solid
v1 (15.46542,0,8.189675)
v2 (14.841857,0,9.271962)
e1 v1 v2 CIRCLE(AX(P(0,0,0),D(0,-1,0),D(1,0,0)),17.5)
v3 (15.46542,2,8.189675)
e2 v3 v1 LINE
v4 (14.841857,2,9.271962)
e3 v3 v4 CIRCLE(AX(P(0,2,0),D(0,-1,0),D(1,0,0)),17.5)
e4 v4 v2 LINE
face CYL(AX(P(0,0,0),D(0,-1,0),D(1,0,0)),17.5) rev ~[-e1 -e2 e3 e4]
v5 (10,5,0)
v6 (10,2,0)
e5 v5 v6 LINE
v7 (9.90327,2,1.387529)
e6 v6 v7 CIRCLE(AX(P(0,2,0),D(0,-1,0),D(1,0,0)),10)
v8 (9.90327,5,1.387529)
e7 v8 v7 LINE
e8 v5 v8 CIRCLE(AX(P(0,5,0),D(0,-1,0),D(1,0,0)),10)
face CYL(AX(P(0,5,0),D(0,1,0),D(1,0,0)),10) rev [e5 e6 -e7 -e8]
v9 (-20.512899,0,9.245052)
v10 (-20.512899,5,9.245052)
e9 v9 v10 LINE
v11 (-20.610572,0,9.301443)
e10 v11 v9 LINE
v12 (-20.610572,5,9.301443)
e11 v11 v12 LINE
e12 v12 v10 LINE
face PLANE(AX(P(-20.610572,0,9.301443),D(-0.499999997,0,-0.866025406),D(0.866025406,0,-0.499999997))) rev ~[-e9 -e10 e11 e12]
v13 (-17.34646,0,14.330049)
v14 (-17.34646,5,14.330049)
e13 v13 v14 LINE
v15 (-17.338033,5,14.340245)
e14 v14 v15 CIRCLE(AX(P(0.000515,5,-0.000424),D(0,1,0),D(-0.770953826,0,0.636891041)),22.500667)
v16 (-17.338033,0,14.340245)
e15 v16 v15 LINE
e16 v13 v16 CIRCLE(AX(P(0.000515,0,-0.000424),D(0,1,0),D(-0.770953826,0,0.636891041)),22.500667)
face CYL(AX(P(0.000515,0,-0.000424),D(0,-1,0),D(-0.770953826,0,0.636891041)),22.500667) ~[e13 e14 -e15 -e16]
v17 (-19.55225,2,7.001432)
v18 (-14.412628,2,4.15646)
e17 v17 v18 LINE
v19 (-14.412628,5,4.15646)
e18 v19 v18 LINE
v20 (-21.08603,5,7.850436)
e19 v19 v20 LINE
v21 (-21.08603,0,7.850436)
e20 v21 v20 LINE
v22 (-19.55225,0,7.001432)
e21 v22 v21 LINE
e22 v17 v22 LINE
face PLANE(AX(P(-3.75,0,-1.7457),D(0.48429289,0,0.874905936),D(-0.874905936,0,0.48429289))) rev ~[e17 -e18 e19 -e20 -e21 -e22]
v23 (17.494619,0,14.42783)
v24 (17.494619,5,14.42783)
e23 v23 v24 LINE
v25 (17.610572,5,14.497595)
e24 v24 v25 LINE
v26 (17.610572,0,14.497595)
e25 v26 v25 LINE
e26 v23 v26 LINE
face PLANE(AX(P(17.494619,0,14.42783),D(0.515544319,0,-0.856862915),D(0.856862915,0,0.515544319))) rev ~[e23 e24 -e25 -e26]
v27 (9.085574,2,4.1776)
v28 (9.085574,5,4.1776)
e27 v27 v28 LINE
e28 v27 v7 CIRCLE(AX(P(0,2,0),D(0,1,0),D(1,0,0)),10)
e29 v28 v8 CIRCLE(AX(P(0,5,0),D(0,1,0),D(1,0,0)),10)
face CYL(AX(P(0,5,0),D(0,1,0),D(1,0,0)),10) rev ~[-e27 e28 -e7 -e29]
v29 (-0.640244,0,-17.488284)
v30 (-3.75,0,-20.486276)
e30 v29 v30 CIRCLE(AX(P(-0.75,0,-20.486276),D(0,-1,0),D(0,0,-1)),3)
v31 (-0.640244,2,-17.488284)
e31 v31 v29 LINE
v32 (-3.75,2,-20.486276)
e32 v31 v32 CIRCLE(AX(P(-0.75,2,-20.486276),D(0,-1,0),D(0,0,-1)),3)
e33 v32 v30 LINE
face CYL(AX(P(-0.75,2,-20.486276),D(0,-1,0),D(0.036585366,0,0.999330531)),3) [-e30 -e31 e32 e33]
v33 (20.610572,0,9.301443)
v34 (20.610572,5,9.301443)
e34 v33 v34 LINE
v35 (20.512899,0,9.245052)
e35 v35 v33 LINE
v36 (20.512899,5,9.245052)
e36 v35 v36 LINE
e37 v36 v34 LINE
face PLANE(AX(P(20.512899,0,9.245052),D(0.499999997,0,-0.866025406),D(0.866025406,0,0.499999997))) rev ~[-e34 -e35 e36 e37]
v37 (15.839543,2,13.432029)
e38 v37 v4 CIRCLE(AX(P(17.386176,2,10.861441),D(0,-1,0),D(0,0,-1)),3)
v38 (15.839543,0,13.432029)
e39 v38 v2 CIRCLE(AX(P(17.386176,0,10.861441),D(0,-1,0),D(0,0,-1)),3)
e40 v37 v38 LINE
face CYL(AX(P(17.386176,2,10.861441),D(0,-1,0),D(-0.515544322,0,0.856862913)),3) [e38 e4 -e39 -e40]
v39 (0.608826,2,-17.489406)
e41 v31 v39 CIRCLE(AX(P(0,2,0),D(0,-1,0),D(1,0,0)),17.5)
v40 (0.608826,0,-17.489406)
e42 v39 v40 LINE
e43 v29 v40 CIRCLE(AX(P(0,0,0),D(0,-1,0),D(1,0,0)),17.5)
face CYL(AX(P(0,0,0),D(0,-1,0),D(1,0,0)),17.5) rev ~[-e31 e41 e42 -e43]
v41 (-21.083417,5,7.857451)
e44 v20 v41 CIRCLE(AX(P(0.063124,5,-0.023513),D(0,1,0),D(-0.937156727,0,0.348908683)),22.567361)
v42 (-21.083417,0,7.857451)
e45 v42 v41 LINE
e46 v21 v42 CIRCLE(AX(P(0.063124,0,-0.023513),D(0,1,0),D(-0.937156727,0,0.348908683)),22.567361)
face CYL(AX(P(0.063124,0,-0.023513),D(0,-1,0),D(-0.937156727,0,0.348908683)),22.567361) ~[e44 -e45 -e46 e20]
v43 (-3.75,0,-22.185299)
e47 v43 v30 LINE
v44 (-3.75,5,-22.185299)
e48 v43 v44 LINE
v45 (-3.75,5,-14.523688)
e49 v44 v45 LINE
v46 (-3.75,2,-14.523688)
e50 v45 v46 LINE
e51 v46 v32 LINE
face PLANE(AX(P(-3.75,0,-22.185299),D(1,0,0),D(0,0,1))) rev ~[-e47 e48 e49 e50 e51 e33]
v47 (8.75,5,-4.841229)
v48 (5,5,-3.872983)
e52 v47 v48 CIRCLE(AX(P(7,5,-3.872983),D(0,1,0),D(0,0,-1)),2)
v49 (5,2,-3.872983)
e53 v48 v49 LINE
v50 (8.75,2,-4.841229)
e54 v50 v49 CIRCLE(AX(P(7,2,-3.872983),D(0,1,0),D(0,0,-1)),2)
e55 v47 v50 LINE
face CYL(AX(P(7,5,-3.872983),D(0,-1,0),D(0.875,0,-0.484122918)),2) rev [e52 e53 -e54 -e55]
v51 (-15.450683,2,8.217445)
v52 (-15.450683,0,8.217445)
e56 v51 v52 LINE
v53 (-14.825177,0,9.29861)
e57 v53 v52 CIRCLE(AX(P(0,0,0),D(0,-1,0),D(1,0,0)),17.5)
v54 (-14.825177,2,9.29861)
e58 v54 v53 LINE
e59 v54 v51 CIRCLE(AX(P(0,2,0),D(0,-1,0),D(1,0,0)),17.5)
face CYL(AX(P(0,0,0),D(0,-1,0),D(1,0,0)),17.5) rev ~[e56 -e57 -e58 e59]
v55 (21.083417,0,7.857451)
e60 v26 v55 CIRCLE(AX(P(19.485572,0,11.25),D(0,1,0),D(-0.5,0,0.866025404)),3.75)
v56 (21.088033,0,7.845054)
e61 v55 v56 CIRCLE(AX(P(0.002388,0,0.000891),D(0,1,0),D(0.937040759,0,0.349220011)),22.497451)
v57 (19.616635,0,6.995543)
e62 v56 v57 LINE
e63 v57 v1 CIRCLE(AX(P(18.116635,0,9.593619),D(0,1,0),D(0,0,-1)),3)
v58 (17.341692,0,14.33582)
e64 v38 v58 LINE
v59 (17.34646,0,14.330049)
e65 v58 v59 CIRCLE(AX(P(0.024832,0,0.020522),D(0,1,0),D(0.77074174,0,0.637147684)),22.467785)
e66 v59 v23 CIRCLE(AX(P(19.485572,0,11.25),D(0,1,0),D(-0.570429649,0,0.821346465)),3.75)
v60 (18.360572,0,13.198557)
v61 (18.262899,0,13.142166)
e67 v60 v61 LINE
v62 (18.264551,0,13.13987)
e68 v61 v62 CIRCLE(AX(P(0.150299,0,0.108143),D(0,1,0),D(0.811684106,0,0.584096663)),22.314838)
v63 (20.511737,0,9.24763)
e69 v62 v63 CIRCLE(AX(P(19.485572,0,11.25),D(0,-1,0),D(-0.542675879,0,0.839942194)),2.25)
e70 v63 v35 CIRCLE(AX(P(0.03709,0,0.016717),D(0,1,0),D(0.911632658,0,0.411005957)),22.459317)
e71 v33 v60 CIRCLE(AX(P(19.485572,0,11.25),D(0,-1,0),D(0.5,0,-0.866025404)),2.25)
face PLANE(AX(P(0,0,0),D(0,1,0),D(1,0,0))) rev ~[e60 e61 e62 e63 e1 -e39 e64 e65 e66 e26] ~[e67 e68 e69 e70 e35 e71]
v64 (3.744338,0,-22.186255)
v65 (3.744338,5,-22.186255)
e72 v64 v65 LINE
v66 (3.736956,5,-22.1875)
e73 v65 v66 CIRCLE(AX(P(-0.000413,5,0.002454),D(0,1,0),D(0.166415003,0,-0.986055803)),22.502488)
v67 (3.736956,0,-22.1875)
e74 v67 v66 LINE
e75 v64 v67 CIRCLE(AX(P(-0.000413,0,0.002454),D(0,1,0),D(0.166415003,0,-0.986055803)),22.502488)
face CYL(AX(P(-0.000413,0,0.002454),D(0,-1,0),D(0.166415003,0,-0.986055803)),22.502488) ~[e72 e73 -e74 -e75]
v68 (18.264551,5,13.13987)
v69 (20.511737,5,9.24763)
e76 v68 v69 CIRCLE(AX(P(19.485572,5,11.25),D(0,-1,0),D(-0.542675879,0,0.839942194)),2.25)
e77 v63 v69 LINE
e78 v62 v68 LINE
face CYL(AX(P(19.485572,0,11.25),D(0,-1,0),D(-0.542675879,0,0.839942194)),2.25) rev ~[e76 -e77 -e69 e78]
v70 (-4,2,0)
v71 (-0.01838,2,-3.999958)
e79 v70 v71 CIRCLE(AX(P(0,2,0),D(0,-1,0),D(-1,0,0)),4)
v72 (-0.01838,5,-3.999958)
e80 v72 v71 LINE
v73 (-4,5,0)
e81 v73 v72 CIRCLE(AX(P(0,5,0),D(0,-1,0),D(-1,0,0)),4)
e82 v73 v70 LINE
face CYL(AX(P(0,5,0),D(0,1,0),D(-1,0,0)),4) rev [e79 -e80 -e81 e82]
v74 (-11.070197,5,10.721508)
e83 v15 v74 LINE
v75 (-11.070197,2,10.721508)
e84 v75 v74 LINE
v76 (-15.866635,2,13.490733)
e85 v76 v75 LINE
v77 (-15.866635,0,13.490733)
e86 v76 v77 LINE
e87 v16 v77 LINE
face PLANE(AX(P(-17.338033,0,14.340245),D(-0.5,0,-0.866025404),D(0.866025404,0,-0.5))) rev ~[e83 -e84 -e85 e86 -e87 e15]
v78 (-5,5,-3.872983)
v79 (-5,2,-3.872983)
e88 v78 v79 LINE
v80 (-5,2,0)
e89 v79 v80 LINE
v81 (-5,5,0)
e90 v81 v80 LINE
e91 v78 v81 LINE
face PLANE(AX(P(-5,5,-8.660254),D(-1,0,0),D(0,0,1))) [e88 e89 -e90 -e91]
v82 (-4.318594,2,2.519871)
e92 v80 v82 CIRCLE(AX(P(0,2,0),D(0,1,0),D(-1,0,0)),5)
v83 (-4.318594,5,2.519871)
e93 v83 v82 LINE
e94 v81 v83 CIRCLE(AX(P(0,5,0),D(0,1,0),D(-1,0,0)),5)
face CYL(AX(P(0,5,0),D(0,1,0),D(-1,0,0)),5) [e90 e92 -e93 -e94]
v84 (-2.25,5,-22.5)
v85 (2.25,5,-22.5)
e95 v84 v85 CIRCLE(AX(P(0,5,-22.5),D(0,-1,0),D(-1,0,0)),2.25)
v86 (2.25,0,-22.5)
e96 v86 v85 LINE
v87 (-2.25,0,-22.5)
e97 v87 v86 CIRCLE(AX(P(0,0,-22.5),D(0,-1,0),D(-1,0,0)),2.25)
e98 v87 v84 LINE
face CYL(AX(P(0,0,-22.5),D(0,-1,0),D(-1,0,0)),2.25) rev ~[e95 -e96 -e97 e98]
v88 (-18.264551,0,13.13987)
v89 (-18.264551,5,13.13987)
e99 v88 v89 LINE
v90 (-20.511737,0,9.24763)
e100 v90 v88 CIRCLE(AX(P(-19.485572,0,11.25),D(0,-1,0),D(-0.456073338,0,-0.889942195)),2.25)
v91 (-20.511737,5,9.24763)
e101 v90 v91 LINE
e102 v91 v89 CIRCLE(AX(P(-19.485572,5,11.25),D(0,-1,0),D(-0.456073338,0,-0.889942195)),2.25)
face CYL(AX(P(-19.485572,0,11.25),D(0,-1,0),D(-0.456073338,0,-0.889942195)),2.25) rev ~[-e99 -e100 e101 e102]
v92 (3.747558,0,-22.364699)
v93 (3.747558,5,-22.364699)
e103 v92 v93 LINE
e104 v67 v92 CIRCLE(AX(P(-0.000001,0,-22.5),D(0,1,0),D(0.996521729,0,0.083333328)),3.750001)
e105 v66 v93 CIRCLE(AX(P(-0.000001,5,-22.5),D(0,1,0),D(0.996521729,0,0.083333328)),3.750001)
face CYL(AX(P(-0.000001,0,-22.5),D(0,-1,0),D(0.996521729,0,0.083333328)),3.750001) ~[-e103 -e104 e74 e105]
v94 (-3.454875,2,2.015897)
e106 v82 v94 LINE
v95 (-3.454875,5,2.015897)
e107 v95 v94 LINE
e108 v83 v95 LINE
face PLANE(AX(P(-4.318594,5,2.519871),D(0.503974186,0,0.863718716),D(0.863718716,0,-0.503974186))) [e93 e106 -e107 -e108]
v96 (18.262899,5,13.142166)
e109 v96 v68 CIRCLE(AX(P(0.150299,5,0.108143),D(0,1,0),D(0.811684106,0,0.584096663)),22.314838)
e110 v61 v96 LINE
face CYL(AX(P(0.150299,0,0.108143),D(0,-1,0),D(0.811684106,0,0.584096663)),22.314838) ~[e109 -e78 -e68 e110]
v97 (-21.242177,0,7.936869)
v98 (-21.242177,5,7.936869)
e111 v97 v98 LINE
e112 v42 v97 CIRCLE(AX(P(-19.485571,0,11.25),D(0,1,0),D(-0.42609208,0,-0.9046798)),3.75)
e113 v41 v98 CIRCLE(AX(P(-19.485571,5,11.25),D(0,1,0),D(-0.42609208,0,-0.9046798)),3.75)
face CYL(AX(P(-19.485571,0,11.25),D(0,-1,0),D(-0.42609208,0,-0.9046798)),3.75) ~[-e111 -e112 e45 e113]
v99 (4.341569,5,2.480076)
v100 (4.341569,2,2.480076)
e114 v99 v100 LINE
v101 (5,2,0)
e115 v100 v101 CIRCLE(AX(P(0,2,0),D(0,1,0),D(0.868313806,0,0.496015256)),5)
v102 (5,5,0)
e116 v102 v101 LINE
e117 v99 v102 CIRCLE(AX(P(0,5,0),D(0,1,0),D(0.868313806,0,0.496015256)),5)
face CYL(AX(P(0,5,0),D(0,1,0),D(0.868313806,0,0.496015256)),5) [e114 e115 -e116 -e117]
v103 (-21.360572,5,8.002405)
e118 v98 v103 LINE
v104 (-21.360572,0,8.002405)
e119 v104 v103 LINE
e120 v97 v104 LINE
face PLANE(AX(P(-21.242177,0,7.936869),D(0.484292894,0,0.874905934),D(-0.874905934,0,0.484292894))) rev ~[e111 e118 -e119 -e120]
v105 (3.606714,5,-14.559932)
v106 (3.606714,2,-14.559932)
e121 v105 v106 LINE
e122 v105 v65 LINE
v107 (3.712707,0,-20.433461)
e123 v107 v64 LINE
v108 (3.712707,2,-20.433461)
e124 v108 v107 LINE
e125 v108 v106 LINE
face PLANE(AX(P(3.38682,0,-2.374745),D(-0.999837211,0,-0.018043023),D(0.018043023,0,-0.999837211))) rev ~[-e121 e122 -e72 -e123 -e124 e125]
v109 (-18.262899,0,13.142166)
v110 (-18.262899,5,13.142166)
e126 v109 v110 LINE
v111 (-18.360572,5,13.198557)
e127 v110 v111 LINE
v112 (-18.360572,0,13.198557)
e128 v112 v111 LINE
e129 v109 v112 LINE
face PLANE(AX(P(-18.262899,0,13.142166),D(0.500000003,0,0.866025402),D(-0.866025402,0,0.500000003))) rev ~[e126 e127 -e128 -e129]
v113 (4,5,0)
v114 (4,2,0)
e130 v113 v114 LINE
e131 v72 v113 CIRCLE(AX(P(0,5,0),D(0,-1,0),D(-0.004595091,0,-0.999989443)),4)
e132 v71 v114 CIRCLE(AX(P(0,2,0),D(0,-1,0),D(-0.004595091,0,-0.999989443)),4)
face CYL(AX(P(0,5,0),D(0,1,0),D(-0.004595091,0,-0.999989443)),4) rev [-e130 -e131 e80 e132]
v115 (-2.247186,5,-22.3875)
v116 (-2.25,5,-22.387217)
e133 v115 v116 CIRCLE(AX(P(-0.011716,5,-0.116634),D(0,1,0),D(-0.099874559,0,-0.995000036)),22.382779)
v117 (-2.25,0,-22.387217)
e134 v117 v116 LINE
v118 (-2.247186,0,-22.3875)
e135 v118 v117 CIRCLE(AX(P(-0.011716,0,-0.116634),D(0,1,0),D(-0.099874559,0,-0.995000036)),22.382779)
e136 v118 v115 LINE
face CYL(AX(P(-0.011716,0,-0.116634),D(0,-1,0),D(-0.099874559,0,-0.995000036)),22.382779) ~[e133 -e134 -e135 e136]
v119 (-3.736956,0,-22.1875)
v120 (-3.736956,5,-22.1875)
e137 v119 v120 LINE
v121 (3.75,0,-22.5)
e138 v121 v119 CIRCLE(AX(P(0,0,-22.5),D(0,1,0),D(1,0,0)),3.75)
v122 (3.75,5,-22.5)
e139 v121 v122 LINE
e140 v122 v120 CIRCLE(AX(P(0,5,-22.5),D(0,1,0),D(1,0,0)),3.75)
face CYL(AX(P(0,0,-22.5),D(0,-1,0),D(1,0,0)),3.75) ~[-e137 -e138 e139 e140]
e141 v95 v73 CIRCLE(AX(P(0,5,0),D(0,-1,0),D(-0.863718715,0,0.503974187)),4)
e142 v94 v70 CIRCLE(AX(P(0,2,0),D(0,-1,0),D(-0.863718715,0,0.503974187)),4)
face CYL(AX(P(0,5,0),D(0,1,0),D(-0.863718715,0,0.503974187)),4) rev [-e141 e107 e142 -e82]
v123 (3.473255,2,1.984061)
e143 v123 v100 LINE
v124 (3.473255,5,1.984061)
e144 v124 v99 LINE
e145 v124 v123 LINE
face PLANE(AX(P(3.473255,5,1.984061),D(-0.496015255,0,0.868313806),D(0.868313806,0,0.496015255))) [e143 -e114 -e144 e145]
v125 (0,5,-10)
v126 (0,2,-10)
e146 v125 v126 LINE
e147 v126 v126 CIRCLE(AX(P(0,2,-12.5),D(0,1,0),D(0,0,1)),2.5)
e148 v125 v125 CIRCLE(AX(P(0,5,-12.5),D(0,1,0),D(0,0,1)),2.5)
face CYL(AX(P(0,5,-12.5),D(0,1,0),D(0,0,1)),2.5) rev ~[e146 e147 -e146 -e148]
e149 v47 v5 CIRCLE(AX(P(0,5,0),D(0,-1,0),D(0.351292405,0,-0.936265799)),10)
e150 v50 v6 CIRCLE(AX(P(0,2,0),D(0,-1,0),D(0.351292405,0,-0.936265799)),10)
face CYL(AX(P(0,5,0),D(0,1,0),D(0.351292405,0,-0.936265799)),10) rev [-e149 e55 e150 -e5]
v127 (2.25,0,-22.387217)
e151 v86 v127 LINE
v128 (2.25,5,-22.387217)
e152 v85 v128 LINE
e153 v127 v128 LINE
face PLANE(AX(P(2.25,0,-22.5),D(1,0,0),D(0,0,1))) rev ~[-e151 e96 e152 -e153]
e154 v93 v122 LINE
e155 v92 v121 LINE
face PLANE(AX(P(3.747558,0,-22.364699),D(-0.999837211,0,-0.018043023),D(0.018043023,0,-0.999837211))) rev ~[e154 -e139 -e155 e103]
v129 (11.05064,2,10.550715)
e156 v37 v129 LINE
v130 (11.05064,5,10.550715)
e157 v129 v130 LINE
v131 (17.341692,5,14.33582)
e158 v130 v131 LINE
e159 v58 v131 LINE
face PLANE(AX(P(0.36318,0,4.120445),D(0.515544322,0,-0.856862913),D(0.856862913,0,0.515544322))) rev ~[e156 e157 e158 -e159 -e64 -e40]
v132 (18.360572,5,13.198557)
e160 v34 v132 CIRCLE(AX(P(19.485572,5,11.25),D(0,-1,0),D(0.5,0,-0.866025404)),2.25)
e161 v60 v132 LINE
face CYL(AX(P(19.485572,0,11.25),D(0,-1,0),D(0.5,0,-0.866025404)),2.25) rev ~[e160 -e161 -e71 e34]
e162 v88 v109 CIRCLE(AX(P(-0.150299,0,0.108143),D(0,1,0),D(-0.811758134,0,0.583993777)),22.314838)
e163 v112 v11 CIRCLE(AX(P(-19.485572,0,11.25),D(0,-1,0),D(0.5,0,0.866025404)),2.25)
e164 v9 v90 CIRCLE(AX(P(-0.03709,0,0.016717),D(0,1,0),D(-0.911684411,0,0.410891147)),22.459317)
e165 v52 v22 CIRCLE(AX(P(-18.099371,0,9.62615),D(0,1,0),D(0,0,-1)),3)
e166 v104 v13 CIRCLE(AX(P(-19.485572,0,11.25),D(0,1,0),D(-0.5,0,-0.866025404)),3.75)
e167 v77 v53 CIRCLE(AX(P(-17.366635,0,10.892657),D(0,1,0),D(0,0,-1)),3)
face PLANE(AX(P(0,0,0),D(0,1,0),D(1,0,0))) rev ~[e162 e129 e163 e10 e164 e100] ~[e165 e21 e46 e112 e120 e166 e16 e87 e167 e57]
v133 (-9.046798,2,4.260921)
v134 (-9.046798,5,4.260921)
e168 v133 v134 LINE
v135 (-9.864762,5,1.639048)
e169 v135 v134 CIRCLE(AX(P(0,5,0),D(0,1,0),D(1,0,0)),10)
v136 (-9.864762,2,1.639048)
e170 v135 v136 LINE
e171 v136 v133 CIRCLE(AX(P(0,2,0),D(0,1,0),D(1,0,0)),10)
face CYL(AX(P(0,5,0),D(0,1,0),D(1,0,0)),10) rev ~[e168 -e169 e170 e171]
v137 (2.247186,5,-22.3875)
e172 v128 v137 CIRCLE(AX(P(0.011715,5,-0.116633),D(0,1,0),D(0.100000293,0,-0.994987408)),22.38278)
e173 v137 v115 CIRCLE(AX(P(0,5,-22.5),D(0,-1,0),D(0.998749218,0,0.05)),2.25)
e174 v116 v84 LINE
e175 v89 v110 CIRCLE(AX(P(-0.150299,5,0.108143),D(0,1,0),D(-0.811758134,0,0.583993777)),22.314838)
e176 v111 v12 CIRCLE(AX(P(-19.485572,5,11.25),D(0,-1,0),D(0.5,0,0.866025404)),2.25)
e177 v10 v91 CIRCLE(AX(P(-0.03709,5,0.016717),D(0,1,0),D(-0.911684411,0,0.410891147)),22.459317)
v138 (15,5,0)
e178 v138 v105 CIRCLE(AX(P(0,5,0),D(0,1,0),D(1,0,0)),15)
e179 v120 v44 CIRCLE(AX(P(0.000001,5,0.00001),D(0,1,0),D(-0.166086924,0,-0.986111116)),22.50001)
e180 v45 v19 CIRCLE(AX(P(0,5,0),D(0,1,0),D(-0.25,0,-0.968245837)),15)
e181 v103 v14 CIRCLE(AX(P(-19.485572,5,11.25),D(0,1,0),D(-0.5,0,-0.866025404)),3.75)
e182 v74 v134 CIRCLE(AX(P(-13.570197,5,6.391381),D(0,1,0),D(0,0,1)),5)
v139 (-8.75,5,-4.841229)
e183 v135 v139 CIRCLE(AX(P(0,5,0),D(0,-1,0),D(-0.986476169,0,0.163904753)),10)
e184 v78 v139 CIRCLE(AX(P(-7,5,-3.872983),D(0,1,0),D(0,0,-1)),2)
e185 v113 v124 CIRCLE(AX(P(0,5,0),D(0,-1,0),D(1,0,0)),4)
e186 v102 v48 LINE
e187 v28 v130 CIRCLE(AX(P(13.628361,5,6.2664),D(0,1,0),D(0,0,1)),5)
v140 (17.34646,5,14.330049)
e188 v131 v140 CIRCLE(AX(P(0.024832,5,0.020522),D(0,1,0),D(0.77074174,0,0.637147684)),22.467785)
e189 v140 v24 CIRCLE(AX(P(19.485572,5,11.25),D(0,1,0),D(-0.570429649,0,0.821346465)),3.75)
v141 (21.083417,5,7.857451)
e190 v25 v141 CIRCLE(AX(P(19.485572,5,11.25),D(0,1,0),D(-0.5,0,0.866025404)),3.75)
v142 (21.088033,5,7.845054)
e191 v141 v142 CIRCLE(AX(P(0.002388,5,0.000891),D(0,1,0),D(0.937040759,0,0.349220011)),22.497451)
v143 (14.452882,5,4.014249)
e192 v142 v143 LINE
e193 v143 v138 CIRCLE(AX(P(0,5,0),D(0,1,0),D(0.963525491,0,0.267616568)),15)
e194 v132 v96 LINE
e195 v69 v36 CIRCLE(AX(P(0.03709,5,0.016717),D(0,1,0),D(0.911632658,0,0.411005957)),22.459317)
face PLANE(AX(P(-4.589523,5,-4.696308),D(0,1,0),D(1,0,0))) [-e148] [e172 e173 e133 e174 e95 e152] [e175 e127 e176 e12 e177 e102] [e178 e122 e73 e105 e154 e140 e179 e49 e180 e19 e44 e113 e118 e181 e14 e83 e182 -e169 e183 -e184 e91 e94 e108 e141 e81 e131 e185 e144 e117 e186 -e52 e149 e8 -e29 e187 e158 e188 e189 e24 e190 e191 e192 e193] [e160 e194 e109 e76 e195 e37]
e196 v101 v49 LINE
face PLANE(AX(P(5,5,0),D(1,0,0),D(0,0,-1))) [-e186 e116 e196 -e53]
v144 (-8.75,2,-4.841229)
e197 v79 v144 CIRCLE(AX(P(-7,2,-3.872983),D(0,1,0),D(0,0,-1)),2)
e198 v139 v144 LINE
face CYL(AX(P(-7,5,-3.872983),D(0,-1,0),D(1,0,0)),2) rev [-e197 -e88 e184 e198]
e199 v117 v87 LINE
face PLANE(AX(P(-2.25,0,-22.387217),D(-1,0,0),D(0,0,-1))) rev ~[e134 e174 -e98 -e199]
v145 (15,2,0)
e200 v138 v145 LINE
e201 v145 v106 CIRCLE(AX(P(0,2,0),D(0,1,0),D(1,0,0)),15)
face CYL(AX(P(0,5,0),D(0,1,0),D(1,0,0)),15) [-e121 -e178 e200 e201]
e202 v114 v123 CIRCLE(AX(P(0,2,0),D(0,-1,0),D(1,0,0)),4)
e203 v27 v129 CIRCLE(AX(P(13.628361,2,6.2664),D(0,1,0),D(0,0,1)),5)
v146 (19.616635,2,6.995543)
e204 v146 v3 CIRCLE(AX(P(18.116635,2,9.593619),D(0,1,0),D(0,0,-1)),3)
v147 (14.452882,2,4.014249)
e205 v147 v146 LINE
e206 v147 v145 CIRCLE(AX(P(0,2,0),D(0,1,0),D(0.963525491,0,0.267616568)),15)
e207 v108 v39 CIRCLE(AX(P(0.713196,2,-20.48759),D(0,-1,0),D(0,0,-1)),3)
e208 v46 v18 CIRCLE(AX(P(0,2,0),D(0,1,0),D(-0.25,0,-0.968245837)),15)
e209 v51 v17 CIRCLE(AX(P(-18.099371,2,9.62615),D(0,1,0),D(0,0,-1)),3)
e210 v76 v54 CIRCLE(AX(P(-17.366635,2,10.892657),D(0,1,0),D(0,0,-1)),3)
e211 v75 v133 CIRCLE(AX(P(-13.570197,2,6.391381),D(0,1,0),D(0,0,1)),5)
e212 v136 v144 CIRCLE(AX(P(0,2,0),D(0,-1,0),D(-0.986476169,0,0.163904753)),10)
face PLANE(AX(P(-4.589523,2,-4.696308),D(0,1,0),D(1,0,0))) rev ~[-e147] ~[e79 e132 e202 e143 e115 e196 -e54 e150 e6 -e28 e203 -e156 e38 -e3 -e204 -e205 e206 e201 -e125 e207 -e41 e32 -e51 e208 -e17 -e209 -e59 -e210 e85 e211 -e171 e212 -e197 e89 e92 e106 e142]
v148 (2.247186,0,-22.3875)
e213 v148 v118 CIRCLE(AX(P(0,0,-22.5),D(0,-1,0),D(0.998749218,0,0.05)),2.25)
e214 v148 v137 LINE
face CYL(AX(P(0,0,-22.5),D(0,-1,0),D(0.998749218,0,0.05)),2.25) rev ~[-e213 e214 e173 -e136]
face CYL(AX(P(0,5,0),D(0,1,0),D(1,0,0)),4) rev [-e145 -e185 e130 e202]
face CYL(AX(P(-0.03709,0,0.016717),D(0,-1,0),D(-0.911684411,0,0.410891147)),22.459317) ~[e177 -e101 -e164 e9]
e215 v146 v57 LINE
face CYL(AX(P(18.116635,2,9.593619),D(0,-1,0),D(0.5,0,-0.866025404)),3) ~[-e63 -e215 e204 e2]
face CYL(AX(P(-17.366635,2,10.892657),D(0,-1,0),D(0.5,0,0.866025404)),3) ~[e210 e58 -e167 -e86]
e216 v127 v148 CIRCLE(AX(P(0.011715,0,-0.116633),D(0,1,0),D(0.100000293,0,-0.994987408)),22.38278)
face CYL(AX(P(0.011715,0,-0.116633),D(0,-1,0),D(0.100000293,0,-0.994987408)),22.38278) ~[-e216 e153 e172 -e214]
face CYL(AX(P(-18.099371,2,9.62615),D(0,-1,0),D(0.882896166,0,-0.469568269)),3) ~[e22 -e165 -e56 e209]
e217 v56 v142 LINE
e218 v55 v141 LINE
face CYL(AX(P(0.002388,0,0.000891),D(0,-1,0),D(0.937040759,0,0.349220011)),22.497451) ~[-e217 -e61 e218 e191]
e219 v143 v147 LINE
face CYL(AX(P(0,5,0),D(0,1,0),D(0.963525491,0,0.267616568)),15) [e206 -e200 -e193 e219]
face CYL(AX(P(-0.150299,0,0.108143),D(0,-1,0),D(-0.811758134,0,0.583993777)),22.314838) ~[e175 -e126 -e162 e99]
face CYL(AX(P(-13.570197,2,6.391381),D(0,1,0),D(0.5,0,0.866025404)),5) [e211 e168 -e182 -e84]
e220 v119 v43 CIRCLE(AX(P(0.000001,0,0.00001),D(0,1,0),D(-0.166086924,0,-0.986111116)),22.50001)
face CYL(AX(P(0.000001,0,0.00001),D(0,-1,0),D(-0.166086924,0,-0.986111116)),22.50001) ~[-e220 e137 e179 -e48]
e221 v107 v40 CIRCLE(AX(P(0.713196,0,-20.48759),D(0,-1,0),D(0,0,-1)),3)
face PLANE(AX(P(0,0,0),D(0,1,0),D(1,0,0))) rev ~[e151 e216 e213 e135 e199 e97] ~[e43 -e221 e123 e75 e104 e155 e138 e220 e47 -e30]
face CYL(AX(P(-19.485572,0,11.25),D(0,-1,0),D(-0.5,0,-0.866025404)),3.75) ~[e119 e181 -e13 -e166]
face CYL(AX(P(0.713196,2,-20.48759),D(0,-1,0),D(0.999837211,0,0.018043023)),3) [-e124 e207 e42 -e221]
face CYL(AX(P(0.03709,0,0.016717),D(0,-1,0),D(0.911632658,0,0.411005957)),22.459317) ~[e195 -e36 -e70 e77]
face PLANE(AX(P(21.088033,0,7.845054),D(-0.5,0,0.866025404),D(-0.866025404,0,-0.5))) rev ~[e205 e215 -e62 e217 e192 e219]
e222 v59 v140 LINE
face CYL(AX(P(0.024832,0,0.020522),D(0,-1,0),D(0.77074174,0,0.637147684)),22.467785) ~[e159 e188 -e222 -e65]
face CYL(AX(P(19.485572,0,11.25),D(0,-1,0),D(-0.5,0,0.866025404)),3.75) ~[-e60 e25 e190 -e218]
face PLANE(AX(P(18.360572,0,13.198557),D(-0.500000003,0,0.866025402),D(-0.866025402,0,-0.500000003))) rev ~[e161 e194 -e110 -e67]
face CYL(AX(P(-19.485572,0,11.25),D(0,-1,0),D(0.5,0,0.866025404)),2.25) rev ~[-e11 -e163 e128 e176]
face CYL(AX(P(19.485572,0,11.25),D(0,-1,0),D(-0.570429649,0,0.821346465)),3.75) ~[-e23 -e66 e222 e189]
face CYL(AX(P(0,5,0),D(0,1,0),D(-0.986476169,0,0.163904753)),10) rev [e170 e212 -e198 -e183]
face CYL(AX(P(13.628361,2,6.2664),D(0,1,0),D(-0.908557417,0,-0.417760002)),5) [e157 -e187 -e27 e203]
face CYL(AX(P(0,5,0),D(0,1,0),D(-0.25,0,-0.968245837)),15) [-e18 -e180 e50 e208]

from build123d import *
from build123d.topology import SkipClean

# Parameters (mm, degrees)
EXTRUDE_1_DEPTH     = 5
SKETCH_2_R          = 17.5
CUT_EXTRUDE_1_DEPTH = 2
FILLET_1_R          = 3
EXTRUDE_2_DEPTH     = 3
SKETCH_4_R          = 10
CUT_EXTRUDE_2_DEPTH = 3
FILLET_2_R          = 5
EXTRUDE_3_DEPTH     = 3
FILLET_3_R          = 2
SKETCH_6_R          = 2.5
CUT_EXTRUDE_3_DEPTH = 3


with BuildPart() as part:
    # 草图1 → 凸台-拉伸1 (new body)
    with BuildSketch(Plane(origin=(0, 0, 0), x_dir=(1, 0, 0), z_dir=(0, 1, 0))):
        with BuildLine():
            Line((-17.338032686, -14.340244858), (0.36317955, -4.120445208))
            Line((0.36317955, -4.120445208), (17.341691759, -14.335819716))
            ThreePointArc((17.341691759, -14.335819716), (17.344076322, -14.33293468), (17.346460405, -14.330049246))
            ThreePointArc((17.346460405, -14.330049246), (17.419960834, -14.379816644), (17.494618607, -14.42783043))
            Line((17.494618607, -14.42783043), (17.610571585, -14.497595264))
            ThreePointArc((17.610571585, -14.497595264), (22.80853464, -12.987934561), (21.083416888, -7.857450754))
            ThreePointArc((21.083416888, -7.857450754), (21.085725698, -7.851252881), (21.088032686, -7.845054329))
            Line((21.088032686, -7.845054329), (3.38682045, 2.374745321))
            Line((3.38682045, 2.374745321), (3.744338179, 22.186255466))
            ThreePointArc((3.744338179, 22.186255466), (3.740647382, 22.18687804), (3.736956482, 22.1875))
            ThreePointArc((3.736956482, 22.1875), (3.743306098, 22.276036937), (3.74755837, 22.364699358))
            Line((3.74755837, 22.364699358), (3.75, 22.5))
            ThreePointArc((3.75, 22.5), (-0.156386047, 26.246737702), (-3.736956482, 22.1875))
            ThreePointArc((-3.736956482, 22.1875), (-3.743478403, 22.186400552), (-3.75, 22.185299187))
            Line((-3.75, 22.185299187), (-3.75, 1.745699887))
            Line((-3.75, 1.745699887), (-21.086029938, -7.85043575))
            ThreePointArc((-21.086029938, -7.85043575), (-21.084723704, -7.85394336), (-21.083416888, -7.857450754))
            ThreePointArc((-21.083416888, -7.857450754), (-21.163266932, -7.896220293), (-21.242176977, -7.936868928))
            Line((-21.242176977, -7.936868928), (-21.360571585, -8.002404736))
            ThreePointArc((-21.360571585, -8.002404736), (-22.652148592, -13.258803141), (-17.346460405, -14.330049246))
            ThreePointArc((-17.346460405, -14.330049246), (-17.342247295, -14.335147671), (-17.338032686, -14.340244858))
        make_face()
        with BuildLine():
            ThreePointArc((-18.264550857, -13.139869938), (-18.263724931, -13.141017908), (-18.262898932, -13.142165826))
            Line((-18.262898932, -13.142165826), (-18.360571585, -13.198557159))
            ThreePointArc((-18.360571585, -13.198557159), (-21.434128744, -12.375), (-20.610571585, -9.301442841))
            Line((-20.610571585, -9.301442841), (-20.512898932, -9.245051509))
            ThreePointArc((-20.512898932, -9.245051509), (-20.512317805, -9.246340804), (-20.511736597, -9.247630062))
            ThreePointArc((-20.511736597, -9.247630062), (-17.537014427, -10.125), (-18.264550857, -13.139869938))
        make_face(mode=Mode.SUBTRACT)
        with BuildLine():
            ThreePointArc((20.511736597, -9.247630062), (20.512317805, -9.246340804), (20.512898932, -9.245051509))
            Line((20.512898932, -9.245051509), (20.610571585, -9.301442841))
            ThreePointArc((20.610571585, -9.301442841), (21.434128744, -12.375), (18.360571585, -13.198557159))
            Line((18.360571585, -13.198557159), (18.262898932, -13.142165826))
            ThreePointArc((18.262898932, -13.142165826), (18.263724931, -13.141017908), (18.264550857, -13.139869938))
            ThreePointArc((18.264550857, -13.139869938), (17.537014427, -10.125), (20.511736597, -9.247630062))
        make_face(mode=Mode.SUBTRACT)
        with BuildLine():
            Line((-2.25, 22.387217335), (-2.25, 22.5))
            ThreePointArc((-2.25, 22.5), (0, 24.75), (2.25, 22.5))
            Line((2.25, 22.5), (2.25, 22.387217335))
            ThreePointArc((2.25, 22.387217335), (2.248592874, 22.387358712), (2.24718574, 22.3875))
            ThreePointArc((2.24718574, 22.3875), (0, 20.25), (-2.24718574, 22.3875))
            ThreePointArc((-2.24718574, 22.3875), (-2.248592874, 22.387358712), (-2.25, 22.387217335))
        make_face(mode=Mode.SUBTRACT)
    extrude(amount=EXTRUDE_1_DEPTH)

    # 草图2 → 切除-拉伸1 (cut)
    with BuildSketch(Plane.XZ):
        Circle(SKETCH_2_R)
    extrude(amount=-CUT_EXTRUDE_1_DEPTH, mode=Mode.SUBTRACT)

    # 圆角1
    fillet_1_edges = [part.edges().sort_by_distance(p)[0] for p in [
        (-12.928399103, 1, 11.794341721),
        (12.995206069, 1, 11.720691926),
        (16.678399103, 1, 5.299151193),
        (3.652813923, 1, -17.114524546),
        (-3.75, 1, -17.093492914),
        (-16.648019992, 1, 5.393832621),
    ]]
    fillet(fillet_1_edges, radius=FILLET_1_R)

    # 草图3 → 凸台-拉伸2 (add)
    with BuildSketch(Plane(origin=(0, 5, 0), x_dir=(1, 0, 0), z_dir=(0, 1, 0))):
        with BuildLine():
            Line((9.903270362, -1.38752879), (14.452882373, -4.01424851))
            ThreePointArc((14.452882373, -4.01424851), (14.862591221, -2.025680676), (15, 0))
            ThreePointArc((15, 0), (11.813143266, 9.24389778), (3.606713844, 14.559931842))
            Line((3.606713844, 14.559931842), (3.512924046, 9.362657991))
            ThreePointArc((3.512924046, 9.362657991), (8.219770084, 5.695206737), (10, 0))
            ThreePointArc((10, 0), (9.97578828, -0.695448195), (9.903270362, -1.38752879))
        make_face()
        with BuildLine():
            ThreePointArc((-3.75, 14.523687548), (-13.027173179, 7.435910097), (-14.412627775, -4.156460108))
            Line((-14.412627775, -4.156460108), (-9.86476169, -1.63904753))
            ThreePointArc((-9.86476169, -1.63904753), (-8.723165526, 4.889415425), (-3.75, 9.270248109))
            Line((-3.75, 9.270248109), (-3.75, 14.523687548))
        make_face()
    extrude(amount=-EXTRUDE_2_DEPTH)

    # 草图4 → 切除-拉伸2 (cut)
    with SkipClean():  # the faces are left unmerged after this step: merging them gives an invalid solid
        with BuildSketch(Plane(origin=(0, 5, 0), x_dir=(1, 0, 0), z_dir=(0, 1, 0))):
            Circle(SKETCH_4_R)
        extrude(amount=-CUT_EXTRUDE_2_DEPTH, mode=Mode.SUBTRACT)

    # 圆角2
    fillet_2_edges = [part.edges().sort_by_distance(p)[0] for p in [
        (-6.153270362, 3.5, 7.882719319),
        (6.351837644, 3.5, 7.72361046),
    ]]
    fillet(fillet_2_edges, radius=FILLET_2_R)

    # 草图5 → 凸台-拉伸3 (add)
    with SkipClean():  # the faces are left unmerged after this step: merging them gives an invalid solid
        with BuildSketch(Plane(origin=(0, 5, 0), x_dir=(1, 0, 0), z_dir=(0, 1, 0))):
            with BuildLine():
                Line((-4.318593576, -2.519870934), (-3.454874861, -2.015896748))
                ThreePointArc((-3.454874861, -2.015896748), (-3.861314507, -1.044150506), (-4, 0))
                Line((-4, 0), (-4, 3))
                ThreePointArc((-4, 3), (-4.74341649, 1.58113883), (-5, 0))
                ThreePointArc((-5, 0), (-4.826643134, -1.305188132), (-4.318593576, -2.519870934))
            make_face()
            with BuildLine():
                ThreePointArc((-5, 0), (-4.74341649, 1.58113883), (-4, 3))
                Line((-4, 3), (-4, 9.16515139))
                ThreePointArc((-4, 9.16515139), (-4.507075586, 8.926716623), (-5, 8.660254038))
                Line((-5, 8.660254038), (-5, 0))
            make_face()
            with BuildLine():
                ThreePointArc((-4, 3), (-2.246337039, 4.46698667), (-0.022975456, 4.999947213))
                Line((-0.022975456, 4.999947213), (-0.045950911, 9.999894425))
                ThreePointArc((-0.045950911, 9.999894425), (-2.065581922, 9.784343173), (-4, 9.16515139))
                Line((-4, 9.16515139), (-4, 3))
            make_face()
            with BuildLine():
                ThreePointArc((-4, 0), (-2.834918117, 2.821921202), (-0.018380364, 3.99995777))
                Line((-0.018380364, 3.99995777), (-0.022975456, 4.999947213))
                ThreePointArc((-0.022975456, 4.999947213), (-2.246337039, 4.46698667), (-4, 3))
                Line((-4, 3), (-4, 0))
            make_face()
            with BuildLine():
                Line((-0.045950911, 9.999894425), (-0.022975456, 4.999947213))
                ThreePointArc((-0.022975456, 4.999947213), (2.225787112, 4.477261633), (4, 3))
                Line((4, 3), (4, 9.16515139))
                ThreePointArc((4, 9.16515139), (2.020600167, 9.793731412), (-0.045950911, 9.999894425))
            make_face()
            with BuildLine():
                Line((-0.022975456, 4.999947213), (-0.018380364, 3.99995777))
                ThreePointArc((-0.018380364, 3.99995777), (2.821921202, 2.834918117), (4, 0))
                Line((4, 0), (4, 3))
                ThreePointArc((4, 3), (2.225787112, 4.477261633), (-0.022975456, 4.999947213))
            make_face()
            with BuildLine():
                Line((4, 9.16515139), (4, 3))
                ThreePointArc((4, 3), (4.74341649, 1.58113883), (5, 0))
                Line((5, 0), (5, 8.660254038))
                ThreePointArc((5, 8.660254038), (4.507075586, 8.926716623), (4, 9.16515139))
            make_face()
            with BuildLine():
                ThreePointArc((4, 0), (3.866071708, -1.02639639), (3.473255225, -1.984061023))
                Line((3.473255225, -1.984061023), (4.341569031, -2.480076278))
                ThreePointArc((4.341569031, -2.480076278), (4.832589635, -1.282995488), (5, 0))
                ThreePointArc((5, 0), (4.74341649, 1.58113883), (4, 3))
                Line((4, 3), (4, 0))
            make_face()
        extrude(amount=-EXTRUDE_3_DEPTH)

    # 圆角3
    fillet_3_edges = [part.edges().sort_by_distance(p)[0] for p in [
        (-5, 3.5, -8.660254038),
        (5, 3.5, -8.660254038),
    ]]
    fillet(fillet_3_edges, radius=FILLET_3_R)

    # 草图6 → 切除-拉伸3 (cut)
    with SkipClean():  # the faces are left unmerged after this step: merging them gives an invalid solid
        with BuildSketch(Plane(origin=(0, 5, 0), x_dir=(1, 0, 0), z_dir=(0, 1, 0))):
            with Locations(Location((0, 12.5, 0), (0, 0, 270))):
                Circle(SKETCH_6_R)
        extrude(amount=-CUT_EXTRUDE_3_DEPTH, mode=Mode.SUBTRACT)


solid = part.part
